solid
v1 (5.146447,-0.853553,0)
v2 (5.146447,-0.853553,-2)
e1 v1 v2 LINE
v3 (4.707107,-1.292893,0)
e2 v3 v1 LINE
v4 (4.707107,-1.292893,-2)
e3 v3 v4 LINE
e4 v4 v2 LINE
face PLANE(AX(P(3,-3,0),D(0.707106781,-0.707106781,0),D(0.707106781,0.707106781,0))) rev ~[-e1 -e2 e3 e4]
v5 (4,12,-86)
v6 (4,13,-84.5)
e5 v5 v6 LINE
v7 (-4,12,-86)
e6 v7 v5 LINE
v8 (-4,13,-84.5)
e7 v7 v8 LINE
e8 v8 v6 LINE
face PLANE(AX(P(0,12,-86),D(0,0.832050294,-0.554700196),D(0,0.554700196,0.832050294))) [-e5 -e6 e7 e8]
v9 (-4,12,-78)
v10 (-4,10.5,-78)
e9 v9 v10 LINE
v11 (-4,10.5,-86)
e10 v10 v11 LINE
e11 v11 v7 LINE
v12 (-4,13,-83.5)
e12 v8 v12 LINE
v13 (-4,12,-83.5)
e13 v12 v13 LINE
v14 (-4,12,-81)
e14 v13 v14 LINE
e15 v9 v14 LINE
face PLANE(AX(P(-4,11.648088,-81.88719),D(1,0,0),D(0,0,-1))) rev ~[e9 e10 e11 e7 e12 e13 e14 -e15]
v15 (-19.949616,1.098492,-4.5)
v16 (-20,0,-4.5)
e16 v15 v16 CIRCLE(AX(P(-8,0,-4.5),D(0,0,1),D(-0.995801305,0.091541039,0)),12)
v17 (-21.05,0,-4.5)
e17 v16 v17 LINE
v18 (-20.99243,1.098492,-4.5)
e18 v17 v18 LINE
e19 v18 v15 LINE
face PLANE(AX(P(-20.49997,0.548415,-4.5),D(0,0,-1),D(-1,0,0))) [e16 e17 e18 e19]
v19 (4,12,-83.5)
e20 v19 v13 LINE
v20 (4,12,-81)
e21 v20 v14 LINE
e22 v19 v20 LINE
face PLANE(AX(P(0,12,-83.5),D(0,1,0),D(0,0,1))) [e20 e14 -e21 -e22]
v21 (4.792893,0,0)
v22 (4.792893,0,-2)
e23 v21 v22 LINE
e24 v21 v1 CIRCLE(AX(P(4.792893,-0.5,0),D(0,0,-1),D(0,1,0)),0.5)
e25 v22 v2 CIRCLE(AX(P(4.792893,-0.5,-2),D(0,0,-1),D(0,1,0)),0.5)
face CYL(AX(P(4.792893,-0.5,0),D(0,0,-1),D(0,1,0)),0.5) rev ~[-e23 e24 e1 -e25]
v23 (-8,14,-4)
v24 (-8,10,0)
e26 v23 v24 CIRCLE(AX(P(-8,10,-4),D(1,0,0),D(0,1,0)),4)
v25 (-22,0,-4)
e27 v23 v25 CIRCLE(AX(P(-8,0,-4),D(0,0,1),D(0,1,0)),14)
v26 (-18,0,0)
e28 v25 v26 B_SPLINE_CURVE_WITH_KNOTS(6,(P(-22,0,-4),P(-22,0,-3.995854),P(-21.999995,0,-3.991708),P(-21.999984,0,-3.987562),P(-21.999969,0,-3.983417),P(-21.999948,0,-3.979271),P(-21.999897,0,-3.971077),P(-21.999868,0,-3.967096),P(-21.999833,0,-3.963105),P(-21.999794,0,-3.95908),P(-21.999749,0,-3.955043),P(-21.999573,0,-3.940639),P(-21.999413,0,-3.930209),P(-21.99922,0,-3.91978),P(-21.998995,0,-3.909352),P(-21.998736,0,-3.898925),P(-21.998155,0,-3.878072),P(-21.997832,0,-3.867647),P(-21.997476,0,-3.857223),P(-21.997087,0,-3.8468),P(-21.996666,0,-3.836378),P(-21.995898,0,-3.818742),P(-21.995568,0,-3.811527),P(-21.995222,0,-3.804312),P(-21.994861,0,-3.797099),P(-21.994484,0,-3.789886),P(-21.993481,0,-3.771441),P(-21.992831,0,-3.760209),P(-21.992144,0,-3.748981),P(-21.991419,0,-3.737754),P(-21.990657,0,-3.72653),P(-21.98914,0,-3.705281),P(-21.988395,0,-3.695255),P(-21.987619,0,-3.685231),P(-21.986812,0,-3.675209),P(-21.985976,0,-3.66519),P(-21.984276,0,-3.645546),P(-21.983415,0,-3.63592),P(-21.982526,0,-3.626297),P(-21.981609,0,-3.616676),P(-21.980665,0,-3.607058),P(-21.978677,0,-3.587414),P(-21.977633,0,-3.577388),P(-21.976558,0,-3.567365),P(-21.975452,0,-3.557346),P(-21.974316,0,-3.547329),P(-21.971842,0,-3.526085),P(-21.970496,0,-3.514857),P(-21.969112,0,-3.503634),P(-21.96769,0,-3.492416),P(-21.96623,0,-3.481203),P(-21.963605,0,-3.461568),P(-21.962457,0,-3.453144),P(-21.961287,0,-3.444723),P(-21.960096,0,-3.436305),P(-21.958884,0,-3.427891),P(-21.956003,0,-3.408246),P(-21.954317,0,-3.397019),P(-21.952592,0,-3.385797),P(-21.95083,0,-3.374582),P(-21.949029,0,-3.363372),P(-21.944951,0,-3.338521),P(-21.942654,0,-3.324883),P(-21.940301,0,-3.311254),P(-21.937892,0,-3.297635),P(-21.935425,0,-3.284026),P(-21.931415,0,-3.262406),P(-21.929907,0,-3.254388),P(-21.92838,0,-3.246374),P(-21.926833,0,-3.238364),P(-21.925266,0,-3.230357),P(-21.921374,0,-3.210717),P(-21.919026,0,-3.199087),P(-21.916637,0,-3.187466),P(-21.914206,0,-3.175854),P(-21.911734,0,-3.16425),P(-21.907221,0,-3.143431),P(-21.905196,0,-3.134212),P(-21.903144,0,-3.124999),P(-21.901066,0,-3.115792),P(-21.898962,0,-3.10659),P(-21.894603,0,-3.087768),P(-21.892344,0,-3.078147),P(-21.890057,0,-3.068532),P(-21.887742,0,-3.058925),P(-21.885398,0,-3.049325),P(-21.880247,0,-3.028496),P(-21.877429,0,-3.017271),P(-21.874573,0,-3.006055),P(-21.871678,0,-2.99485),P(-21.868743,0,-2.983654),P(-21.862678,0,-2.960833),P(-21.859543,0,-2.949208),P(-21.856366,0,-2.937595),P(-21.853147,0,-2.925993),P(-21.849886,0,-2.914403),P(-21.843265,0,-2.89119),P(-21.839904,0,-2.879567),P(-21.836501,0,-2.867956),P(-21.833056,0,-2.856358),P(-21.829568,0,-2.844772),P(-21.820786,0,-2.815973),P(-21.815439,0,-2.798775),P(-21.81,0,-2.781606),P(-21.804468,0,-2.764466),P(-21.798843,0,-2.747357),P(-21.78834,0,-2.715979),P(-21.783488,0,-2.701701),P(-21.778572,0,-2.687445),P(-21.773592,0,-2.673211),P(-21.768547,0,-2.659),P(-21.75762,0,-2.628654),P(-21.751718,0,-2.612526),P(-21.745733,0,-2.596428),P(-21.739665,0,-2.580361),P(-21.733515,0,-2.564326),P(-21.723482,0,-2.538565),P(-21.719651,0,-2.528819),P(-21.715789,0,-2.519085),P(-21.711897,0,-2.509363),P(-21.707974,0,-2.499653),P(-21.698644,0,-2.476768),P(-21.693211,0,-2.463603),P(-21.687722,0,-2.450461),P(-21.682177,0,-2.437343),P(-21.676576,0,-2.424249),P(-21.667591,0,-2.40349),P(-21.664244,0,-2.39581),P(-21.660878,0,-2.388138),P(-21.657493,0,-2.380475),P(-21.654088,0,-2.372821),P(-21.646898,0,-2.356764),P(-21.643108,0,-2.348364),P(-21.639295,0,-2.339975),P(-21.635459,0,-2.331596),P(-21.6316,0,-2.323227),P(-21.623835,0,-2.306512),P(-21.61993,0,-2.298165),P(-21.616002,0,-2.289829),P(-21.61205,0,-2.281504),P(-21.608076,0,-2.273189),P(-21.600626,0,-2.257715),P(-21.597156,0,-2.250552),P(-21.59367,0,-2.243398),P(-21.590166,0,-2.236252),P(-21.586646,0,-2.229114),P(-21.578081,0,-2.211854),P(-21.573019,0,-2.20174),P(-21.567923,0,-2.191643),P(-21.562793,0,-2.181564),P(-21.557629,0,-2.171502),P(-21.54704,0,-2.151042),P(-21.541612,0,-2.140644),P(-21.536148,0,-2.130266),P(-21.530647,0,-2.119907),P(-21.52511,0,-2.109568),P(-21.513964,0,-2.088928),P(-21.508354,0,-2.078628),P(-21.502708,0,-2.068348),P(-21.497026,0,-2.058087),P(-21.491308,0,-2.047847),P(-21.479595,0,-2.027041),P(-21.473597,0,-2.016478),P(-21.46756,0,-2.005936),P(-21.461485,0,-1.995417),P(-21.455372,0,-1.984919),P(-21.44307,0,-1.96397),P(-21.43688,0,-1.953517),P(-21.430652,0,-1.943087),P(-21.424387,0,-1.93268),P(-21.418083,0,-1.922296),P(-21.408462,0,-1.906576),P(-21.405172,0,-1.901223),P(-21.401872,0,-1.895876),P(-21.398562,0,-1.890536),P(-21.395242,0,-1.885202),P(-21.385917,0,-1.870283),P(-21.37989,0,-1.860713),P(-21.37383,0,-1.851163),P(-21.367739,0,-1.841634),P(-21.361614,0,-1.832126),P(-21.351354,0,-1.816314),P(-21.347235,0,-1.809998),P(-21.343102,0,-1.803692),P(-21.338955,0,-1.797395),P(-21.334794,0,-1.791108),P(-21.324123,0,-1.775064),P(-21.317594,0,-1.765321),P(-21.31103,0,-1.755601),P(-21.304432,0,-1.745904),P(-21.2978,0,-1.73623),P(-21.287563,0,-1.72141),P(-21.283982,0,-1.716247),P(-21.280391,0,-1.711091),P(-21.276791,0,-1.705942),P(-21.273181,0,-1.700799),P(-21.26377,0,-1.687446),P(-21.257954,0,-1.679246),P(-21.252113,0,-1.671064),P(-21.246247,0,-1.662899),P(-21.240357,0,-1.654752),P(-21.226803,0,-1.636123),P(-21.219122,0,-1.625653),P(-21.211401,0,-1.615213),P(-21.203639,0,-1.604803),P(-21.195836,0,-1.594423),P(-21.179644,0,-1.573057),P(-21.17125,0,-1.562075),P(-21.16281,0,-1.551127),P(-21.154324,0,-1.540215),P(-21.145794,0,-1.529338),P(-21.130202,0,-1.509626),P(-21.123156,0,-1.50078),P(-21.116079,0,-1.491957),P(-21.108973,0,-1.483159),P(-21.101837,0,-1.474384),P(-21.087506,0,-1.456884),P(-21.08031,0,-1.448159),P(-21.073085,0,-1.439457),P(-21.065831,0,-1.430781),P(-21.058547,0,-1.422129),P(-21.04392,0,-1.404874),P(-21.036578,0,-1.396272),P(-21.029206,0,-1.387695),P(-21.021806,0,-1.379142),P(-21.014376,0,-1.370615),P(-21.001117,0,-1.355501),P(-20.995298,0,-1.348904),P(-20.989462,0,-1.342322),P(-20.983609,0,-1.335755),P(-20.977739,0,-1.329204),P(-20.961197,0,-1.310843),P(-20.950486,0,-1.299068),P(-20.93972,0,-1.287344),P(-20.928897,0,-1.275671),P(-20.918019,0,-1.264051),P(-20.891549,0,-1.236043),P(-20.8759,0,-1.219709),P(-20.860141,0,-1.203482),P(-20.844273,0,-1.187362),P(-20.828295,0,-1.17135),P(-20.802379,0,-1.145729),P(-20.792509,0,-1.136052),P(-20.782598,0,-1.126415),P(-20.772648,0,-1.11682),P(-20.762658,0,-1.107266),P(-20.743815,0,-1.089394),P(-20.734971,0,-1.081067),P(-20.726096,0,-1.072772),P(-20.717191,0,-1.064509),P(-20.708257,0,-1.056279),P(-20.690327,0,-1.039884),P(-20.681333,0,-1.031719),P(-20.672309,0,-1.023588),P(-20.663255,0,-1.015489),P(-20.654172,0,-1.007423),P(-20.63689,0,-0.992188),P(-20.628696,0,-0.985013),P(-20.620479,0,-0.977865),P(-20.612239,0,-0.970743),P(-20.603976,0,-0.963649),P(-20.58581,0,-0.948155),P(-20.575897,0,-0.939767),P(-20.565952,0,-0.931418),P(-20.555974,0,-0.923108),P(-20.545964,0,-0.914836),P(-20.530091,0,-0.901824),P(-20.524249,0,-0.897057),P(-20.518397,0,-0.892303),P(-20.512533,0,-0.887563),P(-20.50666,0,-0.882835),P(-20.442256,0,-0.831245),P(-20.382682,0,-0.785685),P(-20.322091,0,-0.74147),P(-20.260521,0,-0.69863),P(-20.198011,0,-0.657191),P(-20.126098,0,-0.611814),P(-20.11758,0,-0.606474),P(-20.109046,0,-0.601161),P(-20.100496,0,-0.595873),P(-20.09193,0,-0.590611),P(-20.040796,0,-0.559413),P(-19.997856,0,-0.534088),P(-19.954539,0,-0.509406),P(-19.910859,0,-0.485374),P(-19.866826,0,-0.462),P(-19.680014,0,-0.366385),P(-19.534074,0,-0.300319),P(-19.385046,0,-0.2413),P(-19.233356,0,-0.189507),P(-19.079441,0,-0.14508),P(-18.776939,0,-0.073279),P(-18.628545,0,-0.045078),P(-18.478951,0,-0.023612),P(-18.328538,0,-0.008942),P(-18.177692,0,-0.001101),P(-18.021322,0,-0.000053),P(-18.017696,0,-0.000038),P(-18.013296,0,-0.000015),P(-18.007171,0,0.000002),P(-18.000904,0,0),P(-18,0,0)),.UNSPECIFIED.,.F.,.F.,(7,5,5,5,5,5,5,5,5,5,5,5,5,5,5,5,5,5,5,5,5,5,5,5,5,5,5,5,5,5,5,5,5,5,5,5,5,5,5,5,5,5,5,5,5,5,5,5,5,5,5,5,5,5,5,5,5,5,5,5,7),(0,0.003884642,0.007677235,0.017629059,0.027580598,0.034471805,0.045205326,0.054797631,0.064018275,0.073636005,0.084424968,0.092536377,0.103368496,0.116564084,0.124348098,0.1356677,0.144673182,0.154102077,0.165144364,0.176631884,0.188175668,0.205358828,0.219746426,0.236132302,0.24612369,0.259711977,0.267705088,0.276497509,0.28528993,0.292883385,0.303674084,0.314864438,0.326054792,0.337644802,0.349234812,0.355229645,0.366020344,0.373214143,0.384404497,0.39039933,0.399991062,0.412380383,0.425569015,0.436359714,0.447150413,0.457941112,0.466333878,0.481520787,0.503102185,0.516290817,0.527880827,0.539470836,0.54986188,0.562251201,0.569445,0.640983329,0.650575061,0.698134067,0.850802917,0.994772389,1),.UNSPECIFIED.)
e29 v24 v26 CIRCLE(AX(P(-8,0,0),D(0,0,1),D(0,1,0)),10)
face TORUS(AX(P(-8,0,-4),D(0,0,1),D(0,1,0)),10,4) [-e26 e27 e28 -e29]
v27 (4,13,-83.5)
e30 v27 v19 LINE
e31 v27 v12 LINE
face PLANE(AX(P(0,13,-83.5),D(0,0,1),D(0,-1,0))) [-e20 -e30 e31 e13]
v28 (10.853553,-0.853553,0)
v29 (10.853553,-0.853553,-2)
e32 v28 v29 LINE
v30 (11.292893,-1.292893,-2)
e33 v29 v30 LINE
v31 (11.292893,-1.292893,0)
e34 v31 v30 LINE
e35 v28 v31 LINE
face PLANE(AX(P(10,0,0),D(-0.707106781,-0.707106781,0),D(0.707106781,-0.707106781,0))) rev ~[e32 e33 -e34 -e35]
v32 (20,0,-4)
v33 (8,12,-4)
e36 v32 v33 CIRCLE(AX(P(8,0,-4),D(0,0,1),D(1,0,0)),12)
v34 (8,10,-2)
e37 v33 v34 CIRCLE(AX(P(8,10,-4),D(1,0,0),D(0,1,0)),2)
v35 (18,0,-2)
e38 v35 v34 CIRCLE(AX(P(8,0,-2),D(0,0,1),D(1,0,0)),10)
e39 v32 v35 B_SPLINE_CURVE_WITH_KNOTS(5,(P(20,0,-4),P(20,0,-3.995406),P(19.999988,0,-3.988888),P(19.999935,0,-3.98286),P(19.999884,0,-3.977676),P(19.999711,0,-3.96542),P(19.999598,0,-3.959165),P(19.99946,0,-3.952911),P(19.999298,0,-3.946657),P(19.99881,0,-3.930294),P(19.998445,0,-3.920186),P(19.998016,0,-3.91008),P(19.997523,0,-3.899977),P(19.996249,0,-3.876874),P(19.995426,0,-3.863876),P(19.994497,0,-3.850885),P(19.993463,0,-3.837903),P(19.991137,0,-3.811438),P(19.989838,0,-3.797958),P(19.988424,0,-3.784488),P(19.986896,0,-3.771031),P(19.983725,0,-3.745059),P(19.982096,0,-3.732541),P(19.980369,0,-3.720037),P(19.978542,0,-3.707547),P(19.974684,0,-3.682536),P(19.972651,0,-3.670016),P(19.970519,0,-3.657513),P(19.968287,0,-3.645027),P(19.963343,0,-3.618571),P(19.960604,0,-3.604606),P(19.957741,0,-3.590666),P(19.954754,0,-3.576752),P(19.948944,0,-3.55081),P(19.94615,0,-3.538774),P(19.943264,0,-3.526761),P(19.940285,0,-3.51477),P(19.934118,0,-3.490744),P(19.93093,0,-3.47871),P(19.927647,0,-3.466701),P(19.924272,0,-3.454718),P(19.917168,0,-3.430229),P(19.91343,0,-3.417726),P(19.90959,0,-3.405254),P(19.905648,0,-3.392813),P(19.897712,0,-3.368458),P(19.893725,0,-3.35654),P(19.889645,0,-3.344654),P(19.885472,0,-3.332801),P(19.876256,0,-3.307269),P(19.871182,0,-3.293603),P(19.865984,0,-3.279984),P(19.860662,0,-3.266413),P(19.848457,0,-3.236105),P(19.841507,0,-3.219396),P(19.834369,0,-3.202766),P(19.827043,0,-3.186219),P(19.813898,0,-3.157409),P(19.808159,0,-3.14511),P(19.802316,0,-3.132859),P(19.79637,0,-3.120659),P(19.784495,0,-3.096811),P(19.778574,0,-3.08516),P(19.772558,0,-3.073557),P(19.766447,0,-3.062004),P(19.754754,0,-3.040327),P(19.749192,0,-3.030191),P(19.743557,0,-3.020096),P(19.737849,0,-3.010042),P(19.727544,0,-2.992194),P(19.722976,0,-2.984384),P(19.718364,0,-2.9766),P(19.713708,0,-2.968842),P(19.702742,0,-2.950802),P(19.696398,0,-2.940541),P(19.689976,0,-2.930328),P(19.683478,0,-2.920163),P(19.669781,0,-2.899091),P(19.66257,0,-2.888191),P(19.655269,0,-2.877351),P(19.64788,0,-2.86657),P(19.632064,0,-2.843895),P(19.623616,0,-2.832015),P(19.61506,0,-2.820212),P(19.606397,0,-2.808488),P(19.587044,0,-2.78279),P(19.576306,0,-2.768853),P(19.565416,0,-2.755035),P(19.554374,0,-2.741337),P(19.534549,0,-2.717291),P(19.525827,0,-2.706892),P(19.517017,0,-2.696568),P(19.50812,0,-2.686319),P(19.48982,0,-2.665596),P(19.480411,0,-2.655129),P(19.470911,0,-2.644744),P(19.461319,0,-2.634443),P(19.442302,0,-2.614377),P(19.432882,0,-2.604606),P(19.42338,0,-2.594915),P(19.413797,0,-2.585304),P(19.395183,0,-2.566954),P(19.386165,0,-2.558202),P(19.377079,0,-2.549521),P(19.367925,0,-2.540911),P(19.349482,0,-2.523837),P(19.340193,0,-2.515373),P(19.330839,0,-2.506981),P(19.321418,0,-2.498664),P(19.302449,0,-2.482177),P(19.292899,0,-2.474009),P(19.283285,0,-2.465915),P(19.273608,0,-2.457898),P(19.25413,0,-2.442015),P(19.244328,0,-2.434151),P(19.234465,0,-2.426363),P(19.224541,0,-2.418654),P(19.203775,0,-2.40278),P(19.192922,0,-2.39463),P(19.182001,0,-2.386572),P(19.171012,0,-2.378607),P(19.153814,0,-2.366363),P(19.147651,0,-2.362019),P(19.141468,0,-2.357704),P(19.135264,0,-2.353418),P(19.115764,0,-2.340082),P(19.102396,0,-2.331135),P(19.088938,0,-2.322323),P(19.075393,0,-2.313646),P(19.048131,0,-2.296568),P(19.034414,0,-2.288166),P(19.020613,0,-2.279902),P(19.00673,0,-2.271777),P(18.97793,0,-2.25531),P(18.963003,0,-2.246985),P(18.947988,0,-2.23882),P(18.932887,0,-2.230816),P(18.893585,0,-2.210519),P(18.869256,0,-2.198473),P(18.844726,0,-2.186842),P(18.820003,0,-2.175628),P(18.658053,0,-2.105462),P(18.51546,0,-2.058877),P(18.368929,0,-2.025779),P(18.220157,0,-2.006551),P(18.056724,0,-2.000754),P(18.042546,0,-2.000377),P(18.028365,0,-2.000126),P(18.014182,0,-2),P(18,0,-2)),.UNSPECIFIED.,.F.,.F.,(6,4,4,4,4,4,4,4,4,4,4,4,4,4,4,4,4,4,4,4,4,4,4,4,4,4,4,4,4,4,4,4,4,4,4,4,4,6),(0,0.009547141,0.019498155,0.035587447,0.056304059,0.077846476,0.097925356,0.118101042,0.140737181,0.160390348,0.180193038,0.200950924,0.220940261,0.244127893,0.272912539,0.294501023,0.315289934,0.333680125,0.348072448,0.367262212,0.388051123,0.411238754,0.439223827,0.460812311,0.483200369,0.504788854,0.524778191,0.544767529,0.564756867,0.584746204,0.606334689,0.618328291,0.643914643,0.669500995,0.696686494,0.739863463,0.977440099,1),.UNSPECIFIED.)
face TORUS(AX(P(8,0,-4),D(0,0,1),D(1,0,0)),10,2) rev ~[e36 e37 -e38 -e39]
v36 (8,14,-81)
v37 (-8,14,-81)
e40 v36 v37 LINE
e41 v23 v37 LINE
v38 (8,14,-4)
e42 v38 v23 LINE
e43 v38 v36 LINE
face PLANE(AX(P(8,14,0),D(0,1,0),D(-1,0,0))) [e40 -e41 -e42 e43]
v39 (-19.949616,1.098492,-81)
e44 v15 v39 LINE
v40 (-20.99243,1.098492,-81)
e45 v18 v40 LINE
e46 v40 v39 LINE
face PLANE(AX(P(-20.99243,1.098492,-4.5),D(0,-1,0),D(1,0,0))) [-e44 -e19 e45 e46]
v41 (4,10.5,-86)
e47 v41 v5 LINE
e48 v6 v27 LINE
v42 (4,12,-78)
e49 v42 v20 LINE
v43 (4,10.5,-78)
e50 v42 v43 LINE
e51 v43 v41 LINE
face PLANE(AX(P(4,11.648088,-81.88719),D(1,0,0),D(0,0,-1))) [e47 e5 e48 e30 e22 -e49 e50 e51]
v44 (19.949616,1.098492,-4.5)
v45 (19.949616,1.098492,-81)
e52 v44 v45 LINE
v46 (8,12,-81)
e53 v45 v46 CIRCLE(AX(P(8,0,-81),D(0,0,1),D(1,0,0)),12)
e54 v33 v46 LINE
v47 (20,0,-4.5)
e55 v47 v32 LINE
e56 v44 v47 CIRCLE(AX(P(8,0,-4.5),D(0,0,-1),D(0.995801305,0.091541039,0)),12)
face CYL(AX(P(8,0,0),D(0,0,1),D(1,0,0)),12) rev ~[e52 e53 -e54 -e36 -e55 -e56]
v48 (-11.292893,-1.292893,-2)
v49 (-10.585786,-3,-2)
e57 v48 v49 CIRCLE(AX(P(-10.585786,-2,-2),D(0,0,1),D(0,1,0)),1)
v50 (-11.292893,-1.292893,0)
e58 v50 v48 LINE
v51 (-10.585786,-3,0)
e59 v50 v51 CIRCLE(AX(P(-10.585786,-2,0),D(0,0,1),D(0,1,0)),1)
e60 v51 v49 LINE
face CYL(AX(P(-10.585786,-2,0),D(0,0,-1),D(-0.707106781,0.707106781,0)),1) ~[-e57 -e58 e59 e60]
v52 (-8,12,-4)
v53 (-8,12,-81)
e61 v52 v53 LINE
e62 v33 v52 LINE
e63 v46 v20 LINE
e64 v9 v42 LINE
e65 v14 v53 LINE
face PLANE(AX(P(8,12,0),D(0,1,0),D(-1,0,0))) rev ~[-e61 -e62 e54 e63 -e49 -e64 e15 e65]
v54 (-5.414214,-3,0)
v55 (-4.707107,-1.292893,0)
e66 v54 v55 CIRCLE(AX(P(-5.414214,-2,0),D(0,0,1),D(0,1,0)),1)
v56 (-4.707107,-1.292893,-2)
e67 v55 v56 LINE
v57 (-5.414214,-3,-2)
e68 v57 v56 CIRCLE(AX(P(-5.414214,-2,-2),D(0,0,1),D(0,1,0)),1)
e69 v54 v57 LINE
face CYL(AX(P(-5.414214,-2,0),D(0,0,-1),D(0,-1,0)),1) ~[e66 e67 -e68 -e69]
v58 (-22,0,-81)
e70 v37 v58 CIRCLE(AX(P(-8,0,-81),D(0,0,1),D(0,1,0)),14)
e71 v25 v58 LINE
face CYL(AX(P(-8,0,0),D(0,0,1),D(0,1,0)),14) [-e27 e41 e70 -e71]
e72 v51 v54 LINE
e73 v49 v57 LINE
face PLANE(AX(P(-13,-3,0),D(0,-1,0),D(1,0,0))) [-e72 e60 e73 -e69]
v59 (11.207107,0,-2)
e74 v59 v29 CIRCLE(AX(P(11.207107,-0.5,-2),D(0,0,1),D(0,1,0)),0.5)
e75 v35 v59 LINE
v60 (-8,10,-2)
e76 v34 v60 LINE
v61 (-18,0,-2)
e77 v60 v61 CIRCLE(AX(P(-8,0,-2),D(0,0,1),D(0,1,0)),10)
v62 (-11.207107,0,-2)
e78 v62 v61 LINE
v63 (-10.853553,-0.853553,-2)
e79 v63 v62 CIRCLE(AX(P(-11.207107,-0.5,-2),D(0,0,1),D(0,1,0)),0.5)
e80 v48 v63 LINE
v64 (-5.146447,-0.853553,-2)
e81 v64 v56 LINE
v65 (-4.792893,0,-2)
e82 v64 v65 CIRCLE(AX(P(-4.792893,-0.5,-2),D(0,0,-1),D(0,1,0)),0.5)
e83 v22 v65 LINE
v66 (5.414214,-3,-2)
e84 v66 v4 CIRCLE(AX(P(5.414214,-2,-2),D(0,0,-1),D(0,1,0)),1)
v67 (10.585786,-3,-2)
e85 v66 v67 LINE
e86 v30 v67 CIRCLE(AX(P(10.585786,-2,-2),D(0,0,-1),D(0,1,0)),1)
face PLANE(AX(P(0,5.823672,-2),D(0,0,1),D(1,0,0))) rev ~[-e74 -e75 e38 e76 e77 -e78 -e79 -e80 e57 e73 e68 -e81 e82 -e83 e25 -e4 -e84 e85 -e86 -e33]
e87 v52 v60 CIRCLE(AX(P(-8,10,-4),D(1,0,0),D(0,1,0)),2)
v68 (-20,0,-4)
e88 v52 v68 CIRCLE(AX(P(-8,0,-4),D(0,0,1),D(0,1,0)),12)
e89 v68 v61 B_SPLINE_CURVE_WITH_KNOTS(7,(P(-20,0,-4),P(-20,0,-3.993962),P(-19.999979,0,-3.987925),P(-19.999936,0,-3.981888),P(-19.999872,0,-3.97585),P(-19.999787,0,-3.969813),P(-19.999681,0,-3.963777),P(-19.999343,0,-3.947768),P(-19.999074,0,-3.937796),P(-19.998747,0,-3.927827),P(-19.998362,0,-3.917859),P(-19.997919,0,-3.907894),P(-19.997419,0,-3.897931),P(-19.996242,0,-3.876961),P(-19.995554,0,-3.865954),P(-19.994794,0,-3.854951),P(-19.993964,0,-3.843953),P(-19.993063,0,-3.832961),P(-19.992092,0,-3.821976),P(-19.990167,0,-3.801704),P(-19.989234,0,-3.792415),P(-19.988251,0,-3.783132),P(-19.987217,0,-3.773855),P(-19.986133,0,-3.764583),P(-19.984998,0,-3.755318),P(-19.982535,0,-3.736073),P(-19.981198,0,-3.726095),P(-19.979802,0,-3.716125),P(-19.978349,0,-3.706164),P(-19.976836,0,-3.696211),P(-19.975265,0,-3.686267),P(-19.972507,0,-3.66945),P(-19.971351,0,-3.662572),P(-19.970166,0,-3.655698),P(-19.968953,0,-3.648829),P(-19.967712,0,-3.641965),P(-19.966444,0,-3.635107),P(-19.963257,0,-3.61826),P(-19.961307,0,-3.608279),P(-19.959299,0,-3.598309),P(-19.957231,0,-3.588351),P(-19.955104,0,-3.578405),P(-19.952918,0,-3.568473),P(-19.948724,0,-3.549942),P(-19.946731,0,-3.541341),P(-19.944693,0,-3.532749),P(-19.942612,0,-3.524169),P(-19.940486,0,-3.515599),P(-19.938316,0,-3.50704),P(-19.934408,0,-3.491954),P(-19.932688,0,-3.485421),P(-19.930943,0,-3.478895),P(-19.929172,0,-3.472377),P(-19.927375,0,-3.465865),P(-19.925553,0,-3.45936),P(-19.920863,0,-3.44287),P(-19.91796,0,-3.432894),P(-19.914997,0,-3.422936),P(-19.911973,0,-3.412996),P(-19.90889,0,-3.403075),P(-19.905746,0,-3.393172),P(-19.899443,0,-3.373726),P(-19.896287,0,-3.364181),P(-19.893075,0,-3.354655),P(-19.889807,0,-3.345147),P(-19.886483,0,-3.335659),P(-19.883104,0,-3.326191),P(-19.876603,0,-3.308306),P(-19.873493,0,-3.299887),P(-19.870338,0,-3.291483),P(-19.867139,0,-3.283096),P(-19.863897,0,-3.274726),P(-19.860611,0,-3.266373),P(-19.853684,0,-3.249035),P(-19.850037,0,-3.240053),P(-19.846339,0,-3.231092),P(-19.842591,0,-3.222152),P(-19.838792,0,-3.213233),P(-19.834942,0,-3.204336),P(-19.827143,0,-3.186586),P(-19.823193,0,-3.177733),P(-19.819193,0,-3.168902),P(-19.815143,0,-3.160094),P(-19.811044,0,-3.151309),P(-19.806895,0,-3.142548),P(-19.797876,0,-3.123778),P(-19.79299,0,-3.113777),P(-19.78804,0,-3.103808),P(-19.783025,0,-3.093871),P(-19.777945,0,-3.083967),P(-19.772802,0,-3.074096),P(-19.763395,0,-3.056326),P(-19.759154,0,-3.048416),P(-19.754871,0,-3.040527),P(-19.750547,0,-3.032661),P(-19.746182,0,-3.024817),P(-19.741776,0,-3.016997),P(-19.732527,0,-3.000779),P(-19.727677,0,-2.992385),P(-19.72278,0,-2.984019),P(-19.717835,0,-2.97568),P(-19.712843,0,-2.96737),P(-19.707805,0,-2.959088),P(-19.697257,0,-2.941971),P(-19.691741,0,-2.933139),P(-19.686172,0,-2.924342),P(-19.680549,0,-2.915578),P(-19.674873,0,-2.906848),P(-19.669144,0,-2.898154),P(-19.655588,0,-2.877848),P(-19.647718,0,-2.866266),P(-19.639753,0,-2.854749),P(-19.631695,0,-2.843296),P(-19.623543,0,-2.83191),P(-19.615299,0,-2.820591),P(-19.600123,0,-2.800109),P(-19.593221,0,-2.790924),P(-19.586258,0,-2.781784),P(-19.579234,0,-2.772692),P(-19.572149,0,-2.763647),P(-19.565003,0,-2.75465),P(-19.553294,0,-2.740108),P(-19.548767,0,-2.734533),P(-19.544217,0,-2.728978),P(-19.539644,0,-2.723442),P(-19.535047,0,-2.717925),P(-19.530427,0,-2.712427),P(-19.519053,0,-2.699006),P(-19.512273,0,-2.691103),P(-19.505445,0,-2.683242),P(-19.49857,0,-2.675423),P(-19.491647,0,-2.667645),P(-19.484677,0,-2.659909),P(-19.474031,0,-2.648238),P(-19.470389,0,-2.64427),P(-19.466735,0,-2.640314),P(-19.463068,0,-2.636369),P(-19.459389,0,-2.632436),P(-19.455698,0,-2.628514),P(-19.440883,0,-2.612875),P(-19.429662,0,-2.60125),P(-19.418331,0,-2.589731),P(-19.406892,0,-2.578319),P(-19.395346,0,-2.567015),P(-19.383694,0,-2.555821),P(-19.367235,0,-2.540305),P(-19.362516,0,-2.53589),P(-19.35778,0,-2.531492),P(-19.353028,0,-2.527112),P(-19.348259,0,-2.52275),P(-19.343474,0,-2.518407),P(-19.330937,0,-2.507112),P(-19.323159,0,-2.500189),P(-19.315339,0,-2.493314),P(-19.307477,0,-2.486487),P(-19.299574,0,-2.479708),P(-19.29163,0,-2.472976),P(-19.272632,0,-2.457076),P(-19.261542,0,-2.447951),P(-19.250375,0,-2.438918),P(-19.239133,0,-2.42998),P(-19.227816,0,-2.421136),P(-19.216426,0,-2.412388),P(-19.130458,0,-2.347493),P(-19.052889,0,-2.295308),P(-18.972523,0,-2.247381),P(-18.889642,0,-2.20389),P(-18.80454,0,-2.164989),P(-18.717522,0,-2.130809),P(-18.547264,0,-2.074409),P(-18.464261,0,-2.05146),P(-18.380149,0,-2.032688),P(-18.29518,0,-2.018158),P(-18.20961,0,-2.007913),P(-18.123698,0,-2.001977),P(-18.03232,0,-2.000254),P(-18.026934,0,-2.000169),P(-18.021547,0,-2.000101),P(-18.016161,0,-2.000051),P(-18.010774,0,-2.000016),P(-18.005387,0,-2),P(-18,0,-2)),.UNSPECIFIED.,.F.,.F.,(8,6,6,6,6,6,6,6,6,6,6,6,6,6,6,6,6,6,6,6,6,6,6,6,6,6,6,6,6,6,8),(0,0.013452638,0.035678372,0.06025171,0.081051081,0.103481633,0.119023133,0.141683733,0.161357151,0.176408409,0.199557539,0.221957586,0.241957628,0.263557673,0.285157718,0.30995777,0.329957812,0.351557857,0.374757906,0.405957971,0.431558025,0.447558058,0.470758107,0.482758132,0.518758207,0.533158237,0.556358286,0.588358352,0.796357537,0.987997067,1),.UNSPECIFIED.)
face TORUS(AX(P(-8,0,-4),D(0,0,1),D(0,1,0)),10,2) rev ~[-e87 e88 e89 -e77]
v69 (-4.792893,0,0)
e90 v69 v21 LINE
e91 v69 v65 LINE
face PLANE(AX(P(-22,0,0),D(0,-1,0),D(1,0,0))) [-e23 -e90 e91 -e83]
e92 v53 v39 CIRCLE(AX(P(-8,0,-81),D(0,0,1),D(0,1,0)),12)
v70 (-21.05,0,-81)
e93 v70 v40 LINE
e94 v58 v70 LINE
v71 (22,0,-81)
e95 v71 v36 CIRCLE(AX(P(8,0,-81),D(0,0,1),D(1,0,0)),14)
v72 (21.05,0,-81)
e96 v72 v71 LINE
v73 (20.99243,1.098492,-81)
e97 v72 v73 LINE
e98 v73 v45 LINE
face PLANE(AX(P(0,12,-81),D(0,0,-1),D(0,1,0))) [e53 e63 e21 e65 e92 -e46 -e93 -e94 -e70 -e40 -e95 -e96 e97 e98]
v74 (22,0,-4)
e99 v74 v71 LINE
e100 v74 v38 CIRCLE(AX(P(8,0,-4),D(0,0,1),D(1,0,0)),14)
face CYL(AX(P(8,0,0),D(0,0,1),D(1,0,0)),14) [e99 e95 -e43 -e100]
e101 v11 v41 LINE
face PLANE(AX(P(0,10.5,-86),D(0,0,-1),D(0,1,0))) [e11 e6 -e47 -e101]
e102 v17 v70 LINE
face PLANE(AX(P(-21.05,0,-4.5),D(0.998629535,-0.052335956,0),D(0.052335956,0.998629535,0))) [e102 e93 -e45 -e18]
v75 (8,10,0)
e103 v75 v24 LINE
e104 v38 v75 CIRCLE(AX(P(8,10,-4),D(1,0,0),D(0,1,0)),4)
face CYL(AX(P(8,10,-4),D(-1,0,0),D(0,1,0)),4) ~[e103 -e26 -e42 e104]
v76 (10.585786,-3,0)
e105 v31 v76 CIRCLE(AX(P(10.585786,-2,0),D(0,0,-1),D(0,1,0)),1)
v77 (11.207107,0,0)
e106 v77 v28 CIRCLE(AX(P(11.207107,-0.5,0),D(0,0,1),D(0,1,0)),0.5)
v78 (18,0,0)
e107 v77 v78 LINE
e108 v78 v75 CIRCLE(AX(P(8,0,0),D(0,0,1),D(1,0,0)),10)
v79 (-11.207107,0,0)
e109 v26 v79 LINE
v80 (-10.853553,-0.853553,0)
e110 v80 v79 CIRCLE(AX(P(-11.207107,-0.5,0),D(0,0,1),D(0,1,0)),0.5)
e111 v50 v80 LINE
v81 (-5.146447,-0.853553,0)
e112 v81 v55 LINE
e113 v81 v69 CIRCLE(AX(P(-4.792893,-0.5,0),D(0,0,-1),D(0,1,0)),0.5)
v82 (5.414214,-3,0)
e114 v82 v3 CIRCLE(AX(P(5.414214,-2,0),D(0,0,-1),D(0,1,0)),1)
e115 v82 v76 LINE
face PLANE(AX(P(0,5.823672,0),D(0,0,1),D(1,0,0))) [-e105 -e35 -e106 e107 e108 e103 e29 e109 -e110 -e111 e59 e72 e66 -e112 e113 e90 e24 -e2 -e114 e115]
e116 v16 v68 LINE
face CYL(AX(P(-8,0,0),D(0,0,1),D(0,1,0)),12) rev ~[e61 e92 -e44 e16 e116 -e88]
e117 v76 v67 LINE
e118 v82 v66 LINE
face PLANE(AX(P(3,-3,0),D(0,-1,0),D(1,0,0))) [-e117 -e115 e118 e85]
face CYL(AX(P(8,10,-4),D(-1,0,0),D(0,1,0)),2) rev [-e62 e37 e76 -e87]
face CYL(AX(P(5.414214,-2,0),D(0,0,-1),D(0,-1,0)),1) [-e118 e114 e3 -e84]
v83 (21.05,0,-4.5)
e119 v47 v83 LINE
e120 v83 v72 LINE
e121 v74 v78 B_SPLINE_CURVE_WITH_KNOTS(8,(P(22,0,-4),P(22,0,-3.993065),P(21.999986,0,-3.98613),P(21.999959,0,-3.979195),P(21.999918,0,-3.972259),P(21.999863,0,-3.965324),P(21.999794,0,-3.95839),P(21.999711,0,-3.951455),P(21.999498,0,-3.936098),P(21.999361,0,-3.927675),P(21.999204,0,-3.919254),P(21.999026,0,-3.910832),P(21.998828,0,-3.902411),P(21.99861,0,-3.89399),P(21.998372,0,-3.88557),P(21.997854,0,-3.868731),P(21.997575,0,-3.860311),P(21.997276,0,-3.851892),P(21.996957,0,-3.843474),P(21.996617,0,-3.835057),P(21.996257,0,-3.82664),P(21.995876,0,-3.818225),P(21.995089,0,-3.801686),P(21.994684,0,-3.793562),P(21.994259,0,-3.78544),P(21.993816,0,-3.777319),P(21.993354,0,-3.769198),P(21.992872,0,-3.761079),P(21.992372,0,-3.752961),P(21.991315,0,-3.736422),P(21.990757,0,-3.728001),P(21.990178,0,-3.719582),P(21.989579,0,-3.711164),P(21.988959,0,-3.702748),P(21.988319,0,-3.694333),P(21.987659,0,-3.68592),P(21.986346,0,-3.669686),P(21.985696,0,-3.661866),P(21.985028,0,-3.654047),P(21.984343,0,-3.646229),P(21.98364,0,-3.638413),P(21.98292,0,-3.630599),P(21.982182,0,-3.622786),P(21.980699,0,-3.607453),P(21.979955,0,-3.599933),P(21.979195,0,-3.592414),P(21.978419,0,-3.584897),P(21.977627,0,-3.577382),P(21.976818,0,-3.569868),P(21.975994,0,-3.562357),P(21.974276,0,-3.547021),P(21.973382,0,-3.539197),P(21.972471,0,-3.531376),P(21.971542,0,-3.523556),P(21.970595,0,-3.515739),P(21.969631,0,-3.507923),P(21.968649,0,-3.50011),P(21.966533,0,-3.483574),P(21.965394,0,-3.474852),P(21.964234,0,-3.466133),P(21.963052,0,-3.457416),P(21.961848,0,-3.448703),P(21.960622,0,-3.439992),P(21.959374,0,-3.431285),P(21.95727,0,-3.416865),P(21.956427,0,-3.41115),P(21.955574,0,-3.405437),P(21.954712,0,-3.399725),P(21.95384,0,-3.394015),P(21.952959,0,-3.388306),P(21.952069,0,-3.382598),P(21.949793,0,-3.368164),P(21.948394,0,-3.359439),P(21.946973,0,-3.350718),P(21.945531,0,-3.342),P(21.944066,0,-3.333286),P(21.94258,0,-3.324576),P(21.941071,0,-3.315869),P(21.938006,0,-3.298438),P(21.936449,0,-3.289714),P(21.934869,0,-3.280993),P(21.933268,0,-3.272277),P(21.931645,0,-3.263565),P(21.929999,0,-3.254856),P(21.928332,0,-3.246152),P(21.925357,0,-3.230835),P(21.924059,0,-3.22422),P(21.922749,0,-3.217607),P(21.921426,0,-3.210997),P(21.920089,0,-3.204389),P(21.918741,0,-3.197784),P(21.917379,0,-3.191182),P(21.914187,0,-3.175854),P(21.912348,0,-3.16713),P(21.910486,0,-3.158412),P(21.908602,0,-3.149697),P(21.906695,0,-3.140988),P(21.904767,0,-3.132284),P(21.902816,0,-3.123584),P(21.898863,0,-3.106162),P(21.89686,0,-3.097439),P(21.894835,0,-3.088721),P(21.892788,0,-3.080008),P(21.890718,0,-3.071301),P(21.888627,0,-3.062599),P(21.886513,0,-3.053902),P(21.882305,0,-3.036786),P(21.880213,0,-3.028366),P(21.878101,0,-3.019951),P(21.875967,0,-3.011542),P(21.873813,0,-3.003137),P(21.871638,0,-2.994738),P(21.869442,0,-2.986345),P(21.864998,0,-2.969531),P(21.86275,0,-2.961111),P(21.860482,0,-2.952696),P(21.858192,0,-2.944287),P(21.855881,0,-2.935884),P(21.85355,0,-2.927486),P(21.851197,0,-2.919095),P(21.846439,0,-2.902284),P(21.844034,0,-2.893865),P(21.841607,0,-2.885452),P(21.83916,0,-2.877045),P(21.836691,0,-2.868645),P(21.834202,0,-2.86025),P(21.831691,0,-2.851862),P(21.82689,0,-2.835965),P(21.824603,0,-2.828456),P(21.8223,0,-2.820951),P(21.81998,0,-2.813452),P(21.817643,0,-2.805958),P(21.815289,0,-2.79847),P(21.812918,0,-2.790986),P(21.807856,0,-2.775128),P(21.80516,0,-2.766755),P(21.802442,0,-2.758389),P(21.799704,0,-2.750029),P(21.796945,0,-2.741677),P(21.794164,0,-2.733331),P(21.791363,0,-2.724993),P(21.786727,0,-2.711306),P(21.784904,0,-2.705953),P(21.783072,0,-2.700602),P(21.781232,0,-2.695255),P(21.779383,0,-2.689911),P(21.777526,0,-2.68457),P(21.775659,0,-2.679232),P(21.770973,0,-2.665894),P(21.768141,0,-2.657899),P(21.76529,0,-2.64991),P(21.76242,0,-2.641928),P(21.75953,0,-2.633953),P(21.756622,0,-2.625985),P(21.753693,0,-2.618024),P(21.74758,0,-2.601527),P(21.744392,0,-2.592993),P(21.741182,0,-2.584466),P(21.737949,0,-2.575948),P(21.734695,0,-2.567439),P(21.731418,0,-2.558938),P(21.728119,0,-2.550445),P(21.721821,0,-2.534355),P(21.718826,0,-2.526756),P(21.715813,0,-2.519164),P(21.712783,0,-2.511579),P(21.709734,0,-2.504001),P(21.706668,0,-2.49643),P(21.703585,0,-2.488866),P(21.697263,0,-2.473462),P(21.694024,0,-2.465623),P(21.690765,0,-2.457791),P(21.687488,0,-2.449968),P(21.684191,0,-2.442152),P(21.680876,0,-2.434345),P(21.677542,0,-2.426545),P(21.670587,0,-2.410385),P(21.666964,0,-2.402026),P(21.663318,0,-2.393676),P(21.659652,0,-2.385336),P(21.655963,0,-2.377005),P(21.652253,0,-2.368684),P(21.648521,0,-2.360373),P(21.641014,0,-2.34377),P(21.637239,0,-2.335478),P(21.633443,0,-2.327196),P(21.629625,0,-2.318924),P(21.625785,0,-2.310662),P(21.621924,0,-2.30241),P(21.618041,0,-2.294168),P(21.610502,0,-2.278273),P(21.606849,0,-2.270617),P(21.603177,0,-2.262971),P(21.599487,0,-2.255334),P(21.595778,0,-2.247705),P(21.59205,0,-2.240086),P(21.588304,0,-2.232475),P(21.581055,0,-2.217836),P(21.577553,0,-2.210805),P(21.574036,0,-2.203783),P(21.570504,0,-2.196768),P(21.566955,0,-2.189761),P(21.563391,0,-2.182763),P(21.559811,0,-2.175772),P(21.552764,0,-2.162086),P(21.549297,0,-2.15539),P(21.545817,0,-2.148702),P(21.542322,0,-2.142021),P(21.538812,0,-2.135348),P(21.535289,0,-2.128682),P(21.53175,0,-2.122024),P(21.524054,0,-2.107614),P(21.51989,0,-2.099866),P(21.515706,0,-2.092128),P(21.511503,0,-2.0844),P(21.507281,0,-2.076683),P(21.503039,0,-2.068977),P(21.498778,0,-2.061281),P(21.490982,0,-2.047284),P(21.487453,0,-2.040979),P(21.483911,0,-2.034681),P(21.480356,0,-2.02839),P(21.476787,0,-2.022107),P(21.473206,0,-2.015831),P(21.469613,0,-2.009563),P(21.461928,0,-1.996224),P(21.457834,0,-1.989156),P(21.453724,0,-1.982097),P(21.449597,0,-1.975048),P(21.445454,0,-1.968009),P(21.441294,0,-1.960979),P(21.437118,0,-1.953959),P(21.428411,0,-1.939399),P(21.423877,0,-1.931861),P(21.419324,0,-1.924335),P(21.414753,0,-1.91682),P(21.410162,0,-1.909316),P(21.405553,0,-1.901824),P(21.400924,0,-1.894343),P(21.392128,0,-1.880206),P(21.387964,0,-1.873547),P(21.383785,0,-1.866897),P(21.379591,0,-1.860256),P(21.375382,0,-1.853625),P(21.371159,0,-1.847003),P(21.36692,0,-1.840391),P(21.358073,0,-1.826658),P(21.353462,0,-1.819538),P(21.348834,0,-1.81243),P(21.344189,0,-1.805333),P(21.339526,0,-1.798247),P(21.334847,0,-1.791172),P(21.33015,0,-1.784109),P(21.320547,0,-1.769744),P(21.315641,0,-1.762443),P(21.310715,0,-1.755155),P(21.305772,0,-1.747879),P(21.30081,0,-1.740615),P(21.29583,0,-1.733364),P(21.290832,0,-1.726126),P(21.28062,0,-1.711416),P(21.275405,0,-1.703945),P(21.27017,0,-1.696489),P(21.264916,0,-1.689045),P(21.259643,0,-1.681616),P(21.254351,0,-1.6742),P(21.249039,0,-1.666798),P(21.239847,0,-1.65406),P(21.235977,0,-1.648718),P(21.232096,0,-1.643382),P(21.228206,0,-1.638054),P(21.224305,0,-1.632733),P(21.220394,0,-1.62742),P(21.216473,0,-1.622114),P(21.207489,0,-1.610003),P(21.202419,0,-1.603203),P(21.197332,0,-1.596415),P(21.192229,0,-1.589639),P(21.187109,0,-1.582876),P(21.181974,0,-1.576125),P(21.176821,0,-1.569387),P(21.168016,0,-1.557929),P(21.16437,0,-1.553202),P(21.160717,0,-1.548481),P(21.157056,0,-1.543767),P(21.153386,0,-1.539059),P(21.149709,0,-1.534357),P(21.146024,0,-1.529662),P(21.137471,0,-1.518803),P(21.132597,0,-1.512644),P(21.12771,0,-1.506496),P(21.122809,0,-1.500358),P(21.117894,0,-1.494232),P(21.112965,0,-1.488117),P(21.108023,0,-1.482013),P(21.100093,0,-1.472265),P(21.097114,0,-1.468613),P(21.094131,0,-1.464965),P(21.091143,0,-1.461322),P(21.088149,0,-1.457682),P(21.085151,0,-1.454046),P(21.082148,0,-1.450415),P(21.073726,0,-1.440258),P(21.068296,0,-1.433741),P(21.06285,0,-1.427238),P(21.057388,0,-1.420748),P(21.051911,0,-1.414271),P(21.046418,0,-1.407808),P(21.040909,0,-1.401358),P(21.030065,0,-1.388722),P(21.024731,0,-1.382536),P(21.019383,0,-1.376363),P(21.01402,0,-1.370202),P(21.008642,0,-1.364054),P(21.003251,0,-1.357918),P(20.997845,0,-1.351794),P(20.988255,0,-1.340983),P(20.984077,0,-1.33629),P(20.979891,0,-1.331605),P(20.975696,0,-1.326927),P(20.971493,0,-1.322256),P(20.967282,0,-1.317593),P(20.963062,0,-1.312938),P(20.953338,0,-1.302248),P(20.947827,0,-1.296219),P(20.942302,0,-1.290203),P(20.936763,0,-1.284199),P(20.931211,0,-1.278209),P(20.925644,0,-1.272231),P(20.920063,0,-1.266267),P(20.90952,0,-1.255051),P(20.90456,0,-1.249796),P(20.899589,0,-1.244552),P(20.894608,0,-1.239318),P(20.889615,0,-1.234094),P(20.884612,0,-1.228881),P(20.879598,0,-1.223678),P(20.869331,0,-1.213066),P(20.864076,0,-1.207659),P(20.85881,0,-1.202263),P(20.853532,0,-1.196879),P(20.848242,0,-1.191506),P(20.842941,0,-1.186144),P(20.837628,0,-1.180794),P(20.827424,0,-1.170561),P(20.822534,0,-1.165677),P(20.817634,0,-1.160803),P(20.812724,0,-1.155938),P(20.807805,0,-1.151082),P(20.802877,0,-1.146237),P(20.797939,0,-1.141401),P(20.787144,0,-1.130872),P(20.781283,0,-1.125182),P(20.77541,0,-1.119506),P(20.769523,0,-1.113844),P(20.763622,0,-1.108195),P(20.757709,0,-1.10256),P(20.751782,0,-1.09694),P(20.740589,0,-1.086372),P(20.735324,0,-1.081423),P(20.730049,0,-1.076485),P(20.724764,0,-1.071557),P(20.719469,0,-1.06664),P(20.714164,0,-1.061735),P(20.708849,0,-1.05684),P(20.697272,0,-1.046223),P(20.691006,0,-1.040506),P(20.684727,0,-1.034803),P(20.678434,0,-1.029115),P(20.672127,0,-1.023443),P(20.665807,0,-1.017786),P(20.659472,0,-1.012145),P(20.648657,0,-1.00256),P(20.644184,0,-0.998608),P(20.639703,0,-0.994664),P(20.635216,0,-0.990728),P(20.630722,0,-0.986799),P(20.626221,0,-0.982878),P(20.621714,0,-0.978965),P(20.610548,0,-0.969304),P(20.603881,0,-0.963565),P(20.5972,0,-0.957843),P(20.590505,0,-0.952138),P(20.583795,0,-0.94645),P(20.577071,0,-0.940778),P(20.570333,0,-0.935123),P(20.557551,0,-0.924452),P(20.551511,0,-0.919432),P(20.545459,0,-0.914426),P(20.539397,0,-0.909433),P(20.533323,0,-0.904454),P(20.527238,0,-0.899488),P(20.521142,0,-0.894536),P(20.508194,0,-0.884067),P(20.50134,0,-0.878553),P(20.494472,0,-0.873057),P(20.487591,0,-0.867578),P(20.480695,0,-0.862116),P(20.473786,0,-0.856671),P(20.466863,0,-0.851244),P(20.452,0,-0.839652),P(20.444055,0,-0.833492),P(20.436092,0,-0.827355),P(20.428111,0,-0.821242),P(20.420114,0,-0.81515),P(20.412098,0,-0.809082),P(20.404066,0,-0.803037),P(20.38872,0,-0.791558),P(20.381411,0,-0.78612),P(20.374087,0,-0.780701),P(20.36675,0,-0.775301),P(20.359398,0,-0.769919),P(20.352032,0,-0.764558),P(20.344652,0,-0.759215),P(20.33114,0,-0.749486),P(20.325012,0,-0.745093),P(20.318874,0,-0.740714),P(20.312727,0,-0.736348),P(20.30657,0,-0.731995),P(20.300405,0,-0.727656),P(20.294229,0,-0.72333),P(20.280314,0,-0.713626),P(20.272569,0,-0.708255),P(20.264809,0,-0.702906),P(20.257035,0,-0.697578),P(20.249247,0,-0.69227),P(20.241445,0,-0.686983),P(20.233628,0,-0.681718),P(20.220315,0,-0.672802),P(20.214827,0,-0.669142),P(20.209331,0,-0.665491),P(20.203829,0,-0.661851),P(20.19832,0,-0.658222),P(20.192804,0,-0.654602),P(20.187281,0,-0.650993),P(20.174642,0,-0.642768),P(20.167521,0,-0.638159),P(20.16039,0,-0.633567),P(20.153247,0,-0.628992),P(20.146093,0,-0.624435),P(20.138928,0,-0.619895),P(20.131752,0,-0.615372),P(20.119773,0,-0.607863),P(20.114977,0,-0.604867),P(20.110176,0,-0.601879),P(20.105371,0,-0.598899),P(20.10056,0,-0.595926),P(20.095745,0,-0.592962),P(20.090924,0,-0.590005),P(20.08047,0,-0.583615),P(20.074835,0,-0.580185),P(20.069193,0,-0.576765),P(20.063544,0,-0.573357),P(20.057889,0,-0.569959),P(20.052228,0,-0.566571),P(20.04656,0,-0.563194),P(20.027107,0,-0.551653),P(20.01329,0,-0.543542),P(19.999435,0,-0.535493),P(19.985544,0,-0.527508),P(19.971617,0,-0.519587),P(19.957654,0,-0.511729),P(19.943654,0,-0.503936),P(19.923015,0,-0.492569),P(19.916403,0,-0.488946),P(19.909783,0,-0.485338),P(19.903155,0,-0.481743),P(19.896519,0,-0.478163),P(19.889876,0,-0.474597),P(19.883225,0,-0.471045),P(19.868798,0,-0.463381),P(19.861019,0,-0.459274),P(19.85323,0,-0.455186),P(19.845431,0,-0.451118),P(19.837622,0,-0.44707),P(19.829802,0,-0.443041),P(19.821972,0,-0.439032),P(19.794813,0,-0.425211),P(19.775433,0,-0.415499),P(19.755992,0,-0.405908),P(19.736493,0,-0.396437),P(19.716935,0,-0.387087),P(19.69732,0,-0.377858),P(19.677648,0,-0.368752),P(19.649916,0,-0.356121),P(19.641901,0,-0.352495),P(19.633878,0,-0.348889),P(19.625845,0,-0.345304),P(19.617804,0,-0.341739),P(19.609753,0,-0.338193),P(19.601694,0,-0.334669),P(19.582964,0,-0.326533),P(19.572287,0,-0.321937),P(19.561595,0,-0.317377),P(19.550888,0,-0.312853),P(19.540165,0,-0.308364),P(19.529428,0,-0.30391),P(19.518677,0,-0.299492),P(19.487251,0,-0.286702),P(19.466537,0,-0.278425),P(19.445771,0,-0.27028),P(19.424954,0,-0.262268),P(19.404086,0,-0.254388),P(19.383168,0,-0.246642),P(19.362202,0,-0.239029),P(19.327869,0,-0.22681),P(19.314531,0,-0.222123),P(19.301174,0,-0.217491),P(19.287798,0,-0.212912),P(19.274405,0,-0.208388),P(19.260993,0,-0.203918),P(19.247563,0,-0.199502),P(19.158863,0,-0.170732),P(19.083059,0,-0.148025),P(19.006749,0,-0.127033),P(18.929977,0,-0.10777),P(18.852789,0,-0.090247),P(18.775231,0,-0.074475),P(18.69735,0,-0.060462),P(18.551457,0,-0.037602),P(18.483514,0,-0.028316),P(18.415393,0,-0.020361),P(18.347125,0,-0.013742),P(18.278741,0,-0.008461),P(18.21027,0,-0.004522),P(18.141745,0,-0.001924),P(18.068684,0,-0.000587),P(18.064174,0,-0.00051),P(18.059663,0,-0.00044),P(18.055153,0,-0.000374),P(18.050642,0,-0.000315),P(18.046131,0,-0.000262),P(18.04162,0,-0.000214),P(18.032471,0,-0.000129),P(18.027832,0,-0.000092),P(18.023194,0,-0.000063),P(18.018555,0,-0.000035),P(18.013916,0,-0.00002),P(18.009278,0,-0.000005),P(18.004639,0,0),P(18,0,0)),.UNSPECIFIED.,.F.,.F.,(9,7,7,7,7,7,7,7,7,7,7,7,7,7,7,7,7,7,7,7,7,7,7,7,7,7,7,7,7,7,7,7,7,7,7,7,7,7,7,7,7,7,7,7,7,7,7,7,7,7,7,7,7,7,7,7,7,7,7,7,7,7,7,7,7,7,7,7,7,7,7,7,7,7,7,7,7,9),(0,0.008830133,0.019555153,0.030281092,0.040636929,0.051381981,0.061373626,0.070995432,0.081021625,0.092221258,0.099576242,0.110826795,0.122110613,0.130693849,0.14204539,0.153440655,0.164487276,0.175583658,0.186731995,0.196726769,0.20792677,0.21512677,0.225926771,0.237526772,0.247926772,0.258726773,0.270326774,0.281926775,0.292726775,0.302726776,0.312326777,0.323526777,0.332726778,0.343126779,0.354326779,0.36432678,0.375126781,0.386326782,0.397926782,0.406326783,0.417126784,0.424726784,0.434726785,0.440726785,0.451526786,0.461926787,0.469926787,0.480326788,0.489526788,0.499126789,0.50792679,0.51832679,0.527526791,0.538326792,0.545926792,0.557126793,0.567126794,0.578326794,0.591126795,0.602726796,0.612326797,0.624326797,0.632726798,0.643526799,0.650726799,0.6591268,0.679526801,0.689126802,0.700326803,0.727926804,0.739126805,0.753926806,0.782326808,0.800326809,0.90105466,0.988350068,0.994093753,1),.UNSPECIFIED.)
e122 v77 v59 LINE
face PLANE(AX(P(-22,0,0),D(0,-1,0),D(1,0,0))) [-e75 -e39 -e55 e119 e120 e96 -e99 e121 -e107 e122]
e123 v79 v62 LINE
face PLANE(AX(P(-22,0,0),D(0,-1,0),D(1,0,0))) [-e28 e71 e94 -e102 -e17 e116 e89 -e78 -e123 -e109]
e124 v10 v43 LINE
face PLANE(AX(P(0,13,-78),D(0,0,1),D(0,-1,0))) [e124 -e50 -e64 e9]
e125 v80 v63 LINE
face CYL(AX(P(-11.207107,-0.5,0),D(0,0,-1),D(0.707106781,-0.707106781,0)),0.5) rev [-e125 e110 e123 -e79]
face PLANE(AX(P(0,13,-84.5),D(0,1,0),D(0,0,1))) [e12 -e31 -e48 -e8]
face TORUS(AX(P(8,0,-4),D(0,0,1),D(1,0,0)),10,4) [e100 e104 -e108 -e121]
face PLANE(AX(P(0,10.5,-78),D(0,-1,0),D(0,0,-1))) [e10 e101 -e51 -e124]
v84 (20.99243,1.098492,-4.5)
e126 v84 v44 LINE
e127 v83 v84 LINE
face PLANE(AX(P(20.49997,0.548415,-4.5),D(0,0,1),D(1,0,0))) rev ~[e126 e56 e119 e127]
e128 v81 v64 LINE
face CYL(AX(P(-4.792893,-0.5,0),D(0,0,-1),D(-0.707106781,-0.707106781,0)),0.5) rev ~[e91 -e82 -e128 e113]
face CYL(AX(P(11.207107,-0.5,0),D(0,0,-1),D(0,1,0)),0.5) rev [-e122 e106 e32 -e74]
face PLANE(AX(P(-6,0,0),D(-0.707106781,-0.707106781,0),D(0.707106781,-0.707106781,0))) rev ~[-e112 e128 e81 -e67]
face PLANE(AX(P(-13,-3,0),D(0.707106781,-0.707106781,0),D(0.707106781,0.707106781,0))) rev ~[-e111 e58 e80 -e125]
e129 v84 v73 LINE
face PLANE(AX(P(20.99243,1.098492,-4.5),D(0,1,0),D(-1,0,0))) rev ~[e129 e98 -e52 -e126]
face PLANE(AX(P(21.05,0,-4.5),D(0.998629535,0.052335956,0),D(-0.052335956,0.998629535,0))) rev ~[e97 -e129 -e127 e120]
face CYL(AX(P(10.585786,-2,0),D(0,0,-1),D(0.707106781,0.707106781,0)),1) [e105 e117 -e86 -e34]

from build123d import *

# Parameters (mm, degrees)
EXTRUDE_1_DEPTH     = 81
SHELL_1_T           = -2
FILLET_1_R          = 4
FILLET_2_R          = 2
CUT_EXTRUDE_START   = -76.5
CUT_EXTRUDE_1_DEPTH = 76.5
EXTRUDE_2_DEPTH     = 4
EXTRUDE_3_DEPTH     = 2
FILLET_3_R          = 1
FILLET_4_R          = 0.5


with BuildPart() as part:
    # 草图1 → 凸台-拉伸1 (new body)
    with BuildSketch(Plane.XY):
        with BuildLine():
            Line((0, 0), (8, 0))
            Line((8, 0), (22, 0))
            ThreePointArc((22, 0), (17.899494937, 9.899494937), (8, 14))
            Line((8, 14), (-8, 14))
            ThreePointArc((-8, 14), (-17.899494937, 9.899494937), (-22, 0))
            Line((-22, 0), (-8, 0))
            Line((-8, 0), (0, 0))
        make_face()
    extrude(amount=-EXTRUDE_1_DEPTH)

    # 抽壳1
    shell_1_openings = [part.faces().sort_by_distance(p)[0] for p in [
        (0, 6.387452756, -81),
        (0, 0, -40.5),
    ]]
    offset(amount=SHELL_1_T, openings=shell_1_openings, kind=Kind.INTERSECTION)

    # 圆角1
    fillet_1_edges = [part.edges().sort_by_distance(p)[0] for p in [
        (-17.899494937, 9.899494937, 0),
        (0, 14, 0),
        (17.899494937, 9.899494937, 0),
    ]]
    fillet(fillet_1_edges, radius=FILLET_1_R)

    # 圆角2
    fillet_2_edges = [part.edges().sort_by_distance(p)[0] for p in [
        (16.485281374, 8.485281374, -2),
        (0, 12, -2),
        (-16.485281374, 8.485281374, -2),
    ]]
    fillet(fillet_2_edges, radius=FILLET_2_R)

    # 草图2 → 切除-拉伸1 (cut)
    with BuildSketch(Plane(origin=(0, 0, -81), x_dir=(-1, 0, 0), z_dir=(0, 0, -1)).offset(CUT_EXTRUDE_START)):
        with BuildLine():
            Line((-20, 0), (-21.05, 0))
            Line((-21.05, 0), (-20.992430448, 1.098492488))
            Line((-20.992430448, 1.098492488), (-19.949615653, 1.098492488))
            ThreePointArc((-19.949615653, 1.098492488), (-19.987397295, 0.549823683), (-20, 0))
        make_face()
        with BuildLine():
            Line((20, 0), (21.05, 0))
            Line((21.05, 0), (20.992430448, 1.098492488))
            Line((20.992430448, 1.098492488), (19.949615653, 1.098492488))
            ThreePointArc((19.949615653, 1.098492488), (19.987397295, 0.549823683), (20, 0))
        make_face()
    extrude(amount=CUT_EXTRUDE_1_DEPTH, mode=Mode.SUBTRACT)

    # 草图3 → 凸台-拉伸2 (add, symmetric)
    with BuildSketch(Plane(origin=(0, 0, 0), x_dir=(0, 0, -1), z_dir=(1, 0, 0))):
        Polygon((81, 12), (81, 13), (78, 13), (78, 10.5), (81, 10.5), (86, 10.5), (86, 12), (84.5, 13), (83.5, 13), (83.5, 12), align=None)
    extrude(amount=EXTRUDE_2_DEPTH, both=True)

    # 草图4 → 凸台-拉伸3 (add)
    with BuildSketch(Plane.XY):
        Polygon((-8, 0), (-6, 0), (-3, -3), (-6, -3), (-10, -3), (-13, -3), (-10, 0), align=None)
        Polygon((3, -3), (6, 0), (8, 0), (10, 0), (13, -3), (10, -3), (6, -3), align=None)
    extrude(amount=-EXTRUDE_3_DEPTH)

    # 圆角3
    fillet_3_edges = [part.edges().sort_by_distance(p)[0] for p in [
        (-3, -3, -1),
        (-13, -3, -1),
        (3, -3, -1),
        (13, -3, -1),
    ]]
    fillet(fillet_3_edges, radius=FILLET_3_R)

    # 圆角4
    fillet_4_edges = [part.edges().sort_by_distance(p)[0] for p in [
        (-10, 0, -1),
        (-6, 0, -1),
        (6, 0, -1),
        (10, 0, -1),
    ]]
    fillet(fillet_4_edges, radius=FILLET_4_R)


solid = part.part
